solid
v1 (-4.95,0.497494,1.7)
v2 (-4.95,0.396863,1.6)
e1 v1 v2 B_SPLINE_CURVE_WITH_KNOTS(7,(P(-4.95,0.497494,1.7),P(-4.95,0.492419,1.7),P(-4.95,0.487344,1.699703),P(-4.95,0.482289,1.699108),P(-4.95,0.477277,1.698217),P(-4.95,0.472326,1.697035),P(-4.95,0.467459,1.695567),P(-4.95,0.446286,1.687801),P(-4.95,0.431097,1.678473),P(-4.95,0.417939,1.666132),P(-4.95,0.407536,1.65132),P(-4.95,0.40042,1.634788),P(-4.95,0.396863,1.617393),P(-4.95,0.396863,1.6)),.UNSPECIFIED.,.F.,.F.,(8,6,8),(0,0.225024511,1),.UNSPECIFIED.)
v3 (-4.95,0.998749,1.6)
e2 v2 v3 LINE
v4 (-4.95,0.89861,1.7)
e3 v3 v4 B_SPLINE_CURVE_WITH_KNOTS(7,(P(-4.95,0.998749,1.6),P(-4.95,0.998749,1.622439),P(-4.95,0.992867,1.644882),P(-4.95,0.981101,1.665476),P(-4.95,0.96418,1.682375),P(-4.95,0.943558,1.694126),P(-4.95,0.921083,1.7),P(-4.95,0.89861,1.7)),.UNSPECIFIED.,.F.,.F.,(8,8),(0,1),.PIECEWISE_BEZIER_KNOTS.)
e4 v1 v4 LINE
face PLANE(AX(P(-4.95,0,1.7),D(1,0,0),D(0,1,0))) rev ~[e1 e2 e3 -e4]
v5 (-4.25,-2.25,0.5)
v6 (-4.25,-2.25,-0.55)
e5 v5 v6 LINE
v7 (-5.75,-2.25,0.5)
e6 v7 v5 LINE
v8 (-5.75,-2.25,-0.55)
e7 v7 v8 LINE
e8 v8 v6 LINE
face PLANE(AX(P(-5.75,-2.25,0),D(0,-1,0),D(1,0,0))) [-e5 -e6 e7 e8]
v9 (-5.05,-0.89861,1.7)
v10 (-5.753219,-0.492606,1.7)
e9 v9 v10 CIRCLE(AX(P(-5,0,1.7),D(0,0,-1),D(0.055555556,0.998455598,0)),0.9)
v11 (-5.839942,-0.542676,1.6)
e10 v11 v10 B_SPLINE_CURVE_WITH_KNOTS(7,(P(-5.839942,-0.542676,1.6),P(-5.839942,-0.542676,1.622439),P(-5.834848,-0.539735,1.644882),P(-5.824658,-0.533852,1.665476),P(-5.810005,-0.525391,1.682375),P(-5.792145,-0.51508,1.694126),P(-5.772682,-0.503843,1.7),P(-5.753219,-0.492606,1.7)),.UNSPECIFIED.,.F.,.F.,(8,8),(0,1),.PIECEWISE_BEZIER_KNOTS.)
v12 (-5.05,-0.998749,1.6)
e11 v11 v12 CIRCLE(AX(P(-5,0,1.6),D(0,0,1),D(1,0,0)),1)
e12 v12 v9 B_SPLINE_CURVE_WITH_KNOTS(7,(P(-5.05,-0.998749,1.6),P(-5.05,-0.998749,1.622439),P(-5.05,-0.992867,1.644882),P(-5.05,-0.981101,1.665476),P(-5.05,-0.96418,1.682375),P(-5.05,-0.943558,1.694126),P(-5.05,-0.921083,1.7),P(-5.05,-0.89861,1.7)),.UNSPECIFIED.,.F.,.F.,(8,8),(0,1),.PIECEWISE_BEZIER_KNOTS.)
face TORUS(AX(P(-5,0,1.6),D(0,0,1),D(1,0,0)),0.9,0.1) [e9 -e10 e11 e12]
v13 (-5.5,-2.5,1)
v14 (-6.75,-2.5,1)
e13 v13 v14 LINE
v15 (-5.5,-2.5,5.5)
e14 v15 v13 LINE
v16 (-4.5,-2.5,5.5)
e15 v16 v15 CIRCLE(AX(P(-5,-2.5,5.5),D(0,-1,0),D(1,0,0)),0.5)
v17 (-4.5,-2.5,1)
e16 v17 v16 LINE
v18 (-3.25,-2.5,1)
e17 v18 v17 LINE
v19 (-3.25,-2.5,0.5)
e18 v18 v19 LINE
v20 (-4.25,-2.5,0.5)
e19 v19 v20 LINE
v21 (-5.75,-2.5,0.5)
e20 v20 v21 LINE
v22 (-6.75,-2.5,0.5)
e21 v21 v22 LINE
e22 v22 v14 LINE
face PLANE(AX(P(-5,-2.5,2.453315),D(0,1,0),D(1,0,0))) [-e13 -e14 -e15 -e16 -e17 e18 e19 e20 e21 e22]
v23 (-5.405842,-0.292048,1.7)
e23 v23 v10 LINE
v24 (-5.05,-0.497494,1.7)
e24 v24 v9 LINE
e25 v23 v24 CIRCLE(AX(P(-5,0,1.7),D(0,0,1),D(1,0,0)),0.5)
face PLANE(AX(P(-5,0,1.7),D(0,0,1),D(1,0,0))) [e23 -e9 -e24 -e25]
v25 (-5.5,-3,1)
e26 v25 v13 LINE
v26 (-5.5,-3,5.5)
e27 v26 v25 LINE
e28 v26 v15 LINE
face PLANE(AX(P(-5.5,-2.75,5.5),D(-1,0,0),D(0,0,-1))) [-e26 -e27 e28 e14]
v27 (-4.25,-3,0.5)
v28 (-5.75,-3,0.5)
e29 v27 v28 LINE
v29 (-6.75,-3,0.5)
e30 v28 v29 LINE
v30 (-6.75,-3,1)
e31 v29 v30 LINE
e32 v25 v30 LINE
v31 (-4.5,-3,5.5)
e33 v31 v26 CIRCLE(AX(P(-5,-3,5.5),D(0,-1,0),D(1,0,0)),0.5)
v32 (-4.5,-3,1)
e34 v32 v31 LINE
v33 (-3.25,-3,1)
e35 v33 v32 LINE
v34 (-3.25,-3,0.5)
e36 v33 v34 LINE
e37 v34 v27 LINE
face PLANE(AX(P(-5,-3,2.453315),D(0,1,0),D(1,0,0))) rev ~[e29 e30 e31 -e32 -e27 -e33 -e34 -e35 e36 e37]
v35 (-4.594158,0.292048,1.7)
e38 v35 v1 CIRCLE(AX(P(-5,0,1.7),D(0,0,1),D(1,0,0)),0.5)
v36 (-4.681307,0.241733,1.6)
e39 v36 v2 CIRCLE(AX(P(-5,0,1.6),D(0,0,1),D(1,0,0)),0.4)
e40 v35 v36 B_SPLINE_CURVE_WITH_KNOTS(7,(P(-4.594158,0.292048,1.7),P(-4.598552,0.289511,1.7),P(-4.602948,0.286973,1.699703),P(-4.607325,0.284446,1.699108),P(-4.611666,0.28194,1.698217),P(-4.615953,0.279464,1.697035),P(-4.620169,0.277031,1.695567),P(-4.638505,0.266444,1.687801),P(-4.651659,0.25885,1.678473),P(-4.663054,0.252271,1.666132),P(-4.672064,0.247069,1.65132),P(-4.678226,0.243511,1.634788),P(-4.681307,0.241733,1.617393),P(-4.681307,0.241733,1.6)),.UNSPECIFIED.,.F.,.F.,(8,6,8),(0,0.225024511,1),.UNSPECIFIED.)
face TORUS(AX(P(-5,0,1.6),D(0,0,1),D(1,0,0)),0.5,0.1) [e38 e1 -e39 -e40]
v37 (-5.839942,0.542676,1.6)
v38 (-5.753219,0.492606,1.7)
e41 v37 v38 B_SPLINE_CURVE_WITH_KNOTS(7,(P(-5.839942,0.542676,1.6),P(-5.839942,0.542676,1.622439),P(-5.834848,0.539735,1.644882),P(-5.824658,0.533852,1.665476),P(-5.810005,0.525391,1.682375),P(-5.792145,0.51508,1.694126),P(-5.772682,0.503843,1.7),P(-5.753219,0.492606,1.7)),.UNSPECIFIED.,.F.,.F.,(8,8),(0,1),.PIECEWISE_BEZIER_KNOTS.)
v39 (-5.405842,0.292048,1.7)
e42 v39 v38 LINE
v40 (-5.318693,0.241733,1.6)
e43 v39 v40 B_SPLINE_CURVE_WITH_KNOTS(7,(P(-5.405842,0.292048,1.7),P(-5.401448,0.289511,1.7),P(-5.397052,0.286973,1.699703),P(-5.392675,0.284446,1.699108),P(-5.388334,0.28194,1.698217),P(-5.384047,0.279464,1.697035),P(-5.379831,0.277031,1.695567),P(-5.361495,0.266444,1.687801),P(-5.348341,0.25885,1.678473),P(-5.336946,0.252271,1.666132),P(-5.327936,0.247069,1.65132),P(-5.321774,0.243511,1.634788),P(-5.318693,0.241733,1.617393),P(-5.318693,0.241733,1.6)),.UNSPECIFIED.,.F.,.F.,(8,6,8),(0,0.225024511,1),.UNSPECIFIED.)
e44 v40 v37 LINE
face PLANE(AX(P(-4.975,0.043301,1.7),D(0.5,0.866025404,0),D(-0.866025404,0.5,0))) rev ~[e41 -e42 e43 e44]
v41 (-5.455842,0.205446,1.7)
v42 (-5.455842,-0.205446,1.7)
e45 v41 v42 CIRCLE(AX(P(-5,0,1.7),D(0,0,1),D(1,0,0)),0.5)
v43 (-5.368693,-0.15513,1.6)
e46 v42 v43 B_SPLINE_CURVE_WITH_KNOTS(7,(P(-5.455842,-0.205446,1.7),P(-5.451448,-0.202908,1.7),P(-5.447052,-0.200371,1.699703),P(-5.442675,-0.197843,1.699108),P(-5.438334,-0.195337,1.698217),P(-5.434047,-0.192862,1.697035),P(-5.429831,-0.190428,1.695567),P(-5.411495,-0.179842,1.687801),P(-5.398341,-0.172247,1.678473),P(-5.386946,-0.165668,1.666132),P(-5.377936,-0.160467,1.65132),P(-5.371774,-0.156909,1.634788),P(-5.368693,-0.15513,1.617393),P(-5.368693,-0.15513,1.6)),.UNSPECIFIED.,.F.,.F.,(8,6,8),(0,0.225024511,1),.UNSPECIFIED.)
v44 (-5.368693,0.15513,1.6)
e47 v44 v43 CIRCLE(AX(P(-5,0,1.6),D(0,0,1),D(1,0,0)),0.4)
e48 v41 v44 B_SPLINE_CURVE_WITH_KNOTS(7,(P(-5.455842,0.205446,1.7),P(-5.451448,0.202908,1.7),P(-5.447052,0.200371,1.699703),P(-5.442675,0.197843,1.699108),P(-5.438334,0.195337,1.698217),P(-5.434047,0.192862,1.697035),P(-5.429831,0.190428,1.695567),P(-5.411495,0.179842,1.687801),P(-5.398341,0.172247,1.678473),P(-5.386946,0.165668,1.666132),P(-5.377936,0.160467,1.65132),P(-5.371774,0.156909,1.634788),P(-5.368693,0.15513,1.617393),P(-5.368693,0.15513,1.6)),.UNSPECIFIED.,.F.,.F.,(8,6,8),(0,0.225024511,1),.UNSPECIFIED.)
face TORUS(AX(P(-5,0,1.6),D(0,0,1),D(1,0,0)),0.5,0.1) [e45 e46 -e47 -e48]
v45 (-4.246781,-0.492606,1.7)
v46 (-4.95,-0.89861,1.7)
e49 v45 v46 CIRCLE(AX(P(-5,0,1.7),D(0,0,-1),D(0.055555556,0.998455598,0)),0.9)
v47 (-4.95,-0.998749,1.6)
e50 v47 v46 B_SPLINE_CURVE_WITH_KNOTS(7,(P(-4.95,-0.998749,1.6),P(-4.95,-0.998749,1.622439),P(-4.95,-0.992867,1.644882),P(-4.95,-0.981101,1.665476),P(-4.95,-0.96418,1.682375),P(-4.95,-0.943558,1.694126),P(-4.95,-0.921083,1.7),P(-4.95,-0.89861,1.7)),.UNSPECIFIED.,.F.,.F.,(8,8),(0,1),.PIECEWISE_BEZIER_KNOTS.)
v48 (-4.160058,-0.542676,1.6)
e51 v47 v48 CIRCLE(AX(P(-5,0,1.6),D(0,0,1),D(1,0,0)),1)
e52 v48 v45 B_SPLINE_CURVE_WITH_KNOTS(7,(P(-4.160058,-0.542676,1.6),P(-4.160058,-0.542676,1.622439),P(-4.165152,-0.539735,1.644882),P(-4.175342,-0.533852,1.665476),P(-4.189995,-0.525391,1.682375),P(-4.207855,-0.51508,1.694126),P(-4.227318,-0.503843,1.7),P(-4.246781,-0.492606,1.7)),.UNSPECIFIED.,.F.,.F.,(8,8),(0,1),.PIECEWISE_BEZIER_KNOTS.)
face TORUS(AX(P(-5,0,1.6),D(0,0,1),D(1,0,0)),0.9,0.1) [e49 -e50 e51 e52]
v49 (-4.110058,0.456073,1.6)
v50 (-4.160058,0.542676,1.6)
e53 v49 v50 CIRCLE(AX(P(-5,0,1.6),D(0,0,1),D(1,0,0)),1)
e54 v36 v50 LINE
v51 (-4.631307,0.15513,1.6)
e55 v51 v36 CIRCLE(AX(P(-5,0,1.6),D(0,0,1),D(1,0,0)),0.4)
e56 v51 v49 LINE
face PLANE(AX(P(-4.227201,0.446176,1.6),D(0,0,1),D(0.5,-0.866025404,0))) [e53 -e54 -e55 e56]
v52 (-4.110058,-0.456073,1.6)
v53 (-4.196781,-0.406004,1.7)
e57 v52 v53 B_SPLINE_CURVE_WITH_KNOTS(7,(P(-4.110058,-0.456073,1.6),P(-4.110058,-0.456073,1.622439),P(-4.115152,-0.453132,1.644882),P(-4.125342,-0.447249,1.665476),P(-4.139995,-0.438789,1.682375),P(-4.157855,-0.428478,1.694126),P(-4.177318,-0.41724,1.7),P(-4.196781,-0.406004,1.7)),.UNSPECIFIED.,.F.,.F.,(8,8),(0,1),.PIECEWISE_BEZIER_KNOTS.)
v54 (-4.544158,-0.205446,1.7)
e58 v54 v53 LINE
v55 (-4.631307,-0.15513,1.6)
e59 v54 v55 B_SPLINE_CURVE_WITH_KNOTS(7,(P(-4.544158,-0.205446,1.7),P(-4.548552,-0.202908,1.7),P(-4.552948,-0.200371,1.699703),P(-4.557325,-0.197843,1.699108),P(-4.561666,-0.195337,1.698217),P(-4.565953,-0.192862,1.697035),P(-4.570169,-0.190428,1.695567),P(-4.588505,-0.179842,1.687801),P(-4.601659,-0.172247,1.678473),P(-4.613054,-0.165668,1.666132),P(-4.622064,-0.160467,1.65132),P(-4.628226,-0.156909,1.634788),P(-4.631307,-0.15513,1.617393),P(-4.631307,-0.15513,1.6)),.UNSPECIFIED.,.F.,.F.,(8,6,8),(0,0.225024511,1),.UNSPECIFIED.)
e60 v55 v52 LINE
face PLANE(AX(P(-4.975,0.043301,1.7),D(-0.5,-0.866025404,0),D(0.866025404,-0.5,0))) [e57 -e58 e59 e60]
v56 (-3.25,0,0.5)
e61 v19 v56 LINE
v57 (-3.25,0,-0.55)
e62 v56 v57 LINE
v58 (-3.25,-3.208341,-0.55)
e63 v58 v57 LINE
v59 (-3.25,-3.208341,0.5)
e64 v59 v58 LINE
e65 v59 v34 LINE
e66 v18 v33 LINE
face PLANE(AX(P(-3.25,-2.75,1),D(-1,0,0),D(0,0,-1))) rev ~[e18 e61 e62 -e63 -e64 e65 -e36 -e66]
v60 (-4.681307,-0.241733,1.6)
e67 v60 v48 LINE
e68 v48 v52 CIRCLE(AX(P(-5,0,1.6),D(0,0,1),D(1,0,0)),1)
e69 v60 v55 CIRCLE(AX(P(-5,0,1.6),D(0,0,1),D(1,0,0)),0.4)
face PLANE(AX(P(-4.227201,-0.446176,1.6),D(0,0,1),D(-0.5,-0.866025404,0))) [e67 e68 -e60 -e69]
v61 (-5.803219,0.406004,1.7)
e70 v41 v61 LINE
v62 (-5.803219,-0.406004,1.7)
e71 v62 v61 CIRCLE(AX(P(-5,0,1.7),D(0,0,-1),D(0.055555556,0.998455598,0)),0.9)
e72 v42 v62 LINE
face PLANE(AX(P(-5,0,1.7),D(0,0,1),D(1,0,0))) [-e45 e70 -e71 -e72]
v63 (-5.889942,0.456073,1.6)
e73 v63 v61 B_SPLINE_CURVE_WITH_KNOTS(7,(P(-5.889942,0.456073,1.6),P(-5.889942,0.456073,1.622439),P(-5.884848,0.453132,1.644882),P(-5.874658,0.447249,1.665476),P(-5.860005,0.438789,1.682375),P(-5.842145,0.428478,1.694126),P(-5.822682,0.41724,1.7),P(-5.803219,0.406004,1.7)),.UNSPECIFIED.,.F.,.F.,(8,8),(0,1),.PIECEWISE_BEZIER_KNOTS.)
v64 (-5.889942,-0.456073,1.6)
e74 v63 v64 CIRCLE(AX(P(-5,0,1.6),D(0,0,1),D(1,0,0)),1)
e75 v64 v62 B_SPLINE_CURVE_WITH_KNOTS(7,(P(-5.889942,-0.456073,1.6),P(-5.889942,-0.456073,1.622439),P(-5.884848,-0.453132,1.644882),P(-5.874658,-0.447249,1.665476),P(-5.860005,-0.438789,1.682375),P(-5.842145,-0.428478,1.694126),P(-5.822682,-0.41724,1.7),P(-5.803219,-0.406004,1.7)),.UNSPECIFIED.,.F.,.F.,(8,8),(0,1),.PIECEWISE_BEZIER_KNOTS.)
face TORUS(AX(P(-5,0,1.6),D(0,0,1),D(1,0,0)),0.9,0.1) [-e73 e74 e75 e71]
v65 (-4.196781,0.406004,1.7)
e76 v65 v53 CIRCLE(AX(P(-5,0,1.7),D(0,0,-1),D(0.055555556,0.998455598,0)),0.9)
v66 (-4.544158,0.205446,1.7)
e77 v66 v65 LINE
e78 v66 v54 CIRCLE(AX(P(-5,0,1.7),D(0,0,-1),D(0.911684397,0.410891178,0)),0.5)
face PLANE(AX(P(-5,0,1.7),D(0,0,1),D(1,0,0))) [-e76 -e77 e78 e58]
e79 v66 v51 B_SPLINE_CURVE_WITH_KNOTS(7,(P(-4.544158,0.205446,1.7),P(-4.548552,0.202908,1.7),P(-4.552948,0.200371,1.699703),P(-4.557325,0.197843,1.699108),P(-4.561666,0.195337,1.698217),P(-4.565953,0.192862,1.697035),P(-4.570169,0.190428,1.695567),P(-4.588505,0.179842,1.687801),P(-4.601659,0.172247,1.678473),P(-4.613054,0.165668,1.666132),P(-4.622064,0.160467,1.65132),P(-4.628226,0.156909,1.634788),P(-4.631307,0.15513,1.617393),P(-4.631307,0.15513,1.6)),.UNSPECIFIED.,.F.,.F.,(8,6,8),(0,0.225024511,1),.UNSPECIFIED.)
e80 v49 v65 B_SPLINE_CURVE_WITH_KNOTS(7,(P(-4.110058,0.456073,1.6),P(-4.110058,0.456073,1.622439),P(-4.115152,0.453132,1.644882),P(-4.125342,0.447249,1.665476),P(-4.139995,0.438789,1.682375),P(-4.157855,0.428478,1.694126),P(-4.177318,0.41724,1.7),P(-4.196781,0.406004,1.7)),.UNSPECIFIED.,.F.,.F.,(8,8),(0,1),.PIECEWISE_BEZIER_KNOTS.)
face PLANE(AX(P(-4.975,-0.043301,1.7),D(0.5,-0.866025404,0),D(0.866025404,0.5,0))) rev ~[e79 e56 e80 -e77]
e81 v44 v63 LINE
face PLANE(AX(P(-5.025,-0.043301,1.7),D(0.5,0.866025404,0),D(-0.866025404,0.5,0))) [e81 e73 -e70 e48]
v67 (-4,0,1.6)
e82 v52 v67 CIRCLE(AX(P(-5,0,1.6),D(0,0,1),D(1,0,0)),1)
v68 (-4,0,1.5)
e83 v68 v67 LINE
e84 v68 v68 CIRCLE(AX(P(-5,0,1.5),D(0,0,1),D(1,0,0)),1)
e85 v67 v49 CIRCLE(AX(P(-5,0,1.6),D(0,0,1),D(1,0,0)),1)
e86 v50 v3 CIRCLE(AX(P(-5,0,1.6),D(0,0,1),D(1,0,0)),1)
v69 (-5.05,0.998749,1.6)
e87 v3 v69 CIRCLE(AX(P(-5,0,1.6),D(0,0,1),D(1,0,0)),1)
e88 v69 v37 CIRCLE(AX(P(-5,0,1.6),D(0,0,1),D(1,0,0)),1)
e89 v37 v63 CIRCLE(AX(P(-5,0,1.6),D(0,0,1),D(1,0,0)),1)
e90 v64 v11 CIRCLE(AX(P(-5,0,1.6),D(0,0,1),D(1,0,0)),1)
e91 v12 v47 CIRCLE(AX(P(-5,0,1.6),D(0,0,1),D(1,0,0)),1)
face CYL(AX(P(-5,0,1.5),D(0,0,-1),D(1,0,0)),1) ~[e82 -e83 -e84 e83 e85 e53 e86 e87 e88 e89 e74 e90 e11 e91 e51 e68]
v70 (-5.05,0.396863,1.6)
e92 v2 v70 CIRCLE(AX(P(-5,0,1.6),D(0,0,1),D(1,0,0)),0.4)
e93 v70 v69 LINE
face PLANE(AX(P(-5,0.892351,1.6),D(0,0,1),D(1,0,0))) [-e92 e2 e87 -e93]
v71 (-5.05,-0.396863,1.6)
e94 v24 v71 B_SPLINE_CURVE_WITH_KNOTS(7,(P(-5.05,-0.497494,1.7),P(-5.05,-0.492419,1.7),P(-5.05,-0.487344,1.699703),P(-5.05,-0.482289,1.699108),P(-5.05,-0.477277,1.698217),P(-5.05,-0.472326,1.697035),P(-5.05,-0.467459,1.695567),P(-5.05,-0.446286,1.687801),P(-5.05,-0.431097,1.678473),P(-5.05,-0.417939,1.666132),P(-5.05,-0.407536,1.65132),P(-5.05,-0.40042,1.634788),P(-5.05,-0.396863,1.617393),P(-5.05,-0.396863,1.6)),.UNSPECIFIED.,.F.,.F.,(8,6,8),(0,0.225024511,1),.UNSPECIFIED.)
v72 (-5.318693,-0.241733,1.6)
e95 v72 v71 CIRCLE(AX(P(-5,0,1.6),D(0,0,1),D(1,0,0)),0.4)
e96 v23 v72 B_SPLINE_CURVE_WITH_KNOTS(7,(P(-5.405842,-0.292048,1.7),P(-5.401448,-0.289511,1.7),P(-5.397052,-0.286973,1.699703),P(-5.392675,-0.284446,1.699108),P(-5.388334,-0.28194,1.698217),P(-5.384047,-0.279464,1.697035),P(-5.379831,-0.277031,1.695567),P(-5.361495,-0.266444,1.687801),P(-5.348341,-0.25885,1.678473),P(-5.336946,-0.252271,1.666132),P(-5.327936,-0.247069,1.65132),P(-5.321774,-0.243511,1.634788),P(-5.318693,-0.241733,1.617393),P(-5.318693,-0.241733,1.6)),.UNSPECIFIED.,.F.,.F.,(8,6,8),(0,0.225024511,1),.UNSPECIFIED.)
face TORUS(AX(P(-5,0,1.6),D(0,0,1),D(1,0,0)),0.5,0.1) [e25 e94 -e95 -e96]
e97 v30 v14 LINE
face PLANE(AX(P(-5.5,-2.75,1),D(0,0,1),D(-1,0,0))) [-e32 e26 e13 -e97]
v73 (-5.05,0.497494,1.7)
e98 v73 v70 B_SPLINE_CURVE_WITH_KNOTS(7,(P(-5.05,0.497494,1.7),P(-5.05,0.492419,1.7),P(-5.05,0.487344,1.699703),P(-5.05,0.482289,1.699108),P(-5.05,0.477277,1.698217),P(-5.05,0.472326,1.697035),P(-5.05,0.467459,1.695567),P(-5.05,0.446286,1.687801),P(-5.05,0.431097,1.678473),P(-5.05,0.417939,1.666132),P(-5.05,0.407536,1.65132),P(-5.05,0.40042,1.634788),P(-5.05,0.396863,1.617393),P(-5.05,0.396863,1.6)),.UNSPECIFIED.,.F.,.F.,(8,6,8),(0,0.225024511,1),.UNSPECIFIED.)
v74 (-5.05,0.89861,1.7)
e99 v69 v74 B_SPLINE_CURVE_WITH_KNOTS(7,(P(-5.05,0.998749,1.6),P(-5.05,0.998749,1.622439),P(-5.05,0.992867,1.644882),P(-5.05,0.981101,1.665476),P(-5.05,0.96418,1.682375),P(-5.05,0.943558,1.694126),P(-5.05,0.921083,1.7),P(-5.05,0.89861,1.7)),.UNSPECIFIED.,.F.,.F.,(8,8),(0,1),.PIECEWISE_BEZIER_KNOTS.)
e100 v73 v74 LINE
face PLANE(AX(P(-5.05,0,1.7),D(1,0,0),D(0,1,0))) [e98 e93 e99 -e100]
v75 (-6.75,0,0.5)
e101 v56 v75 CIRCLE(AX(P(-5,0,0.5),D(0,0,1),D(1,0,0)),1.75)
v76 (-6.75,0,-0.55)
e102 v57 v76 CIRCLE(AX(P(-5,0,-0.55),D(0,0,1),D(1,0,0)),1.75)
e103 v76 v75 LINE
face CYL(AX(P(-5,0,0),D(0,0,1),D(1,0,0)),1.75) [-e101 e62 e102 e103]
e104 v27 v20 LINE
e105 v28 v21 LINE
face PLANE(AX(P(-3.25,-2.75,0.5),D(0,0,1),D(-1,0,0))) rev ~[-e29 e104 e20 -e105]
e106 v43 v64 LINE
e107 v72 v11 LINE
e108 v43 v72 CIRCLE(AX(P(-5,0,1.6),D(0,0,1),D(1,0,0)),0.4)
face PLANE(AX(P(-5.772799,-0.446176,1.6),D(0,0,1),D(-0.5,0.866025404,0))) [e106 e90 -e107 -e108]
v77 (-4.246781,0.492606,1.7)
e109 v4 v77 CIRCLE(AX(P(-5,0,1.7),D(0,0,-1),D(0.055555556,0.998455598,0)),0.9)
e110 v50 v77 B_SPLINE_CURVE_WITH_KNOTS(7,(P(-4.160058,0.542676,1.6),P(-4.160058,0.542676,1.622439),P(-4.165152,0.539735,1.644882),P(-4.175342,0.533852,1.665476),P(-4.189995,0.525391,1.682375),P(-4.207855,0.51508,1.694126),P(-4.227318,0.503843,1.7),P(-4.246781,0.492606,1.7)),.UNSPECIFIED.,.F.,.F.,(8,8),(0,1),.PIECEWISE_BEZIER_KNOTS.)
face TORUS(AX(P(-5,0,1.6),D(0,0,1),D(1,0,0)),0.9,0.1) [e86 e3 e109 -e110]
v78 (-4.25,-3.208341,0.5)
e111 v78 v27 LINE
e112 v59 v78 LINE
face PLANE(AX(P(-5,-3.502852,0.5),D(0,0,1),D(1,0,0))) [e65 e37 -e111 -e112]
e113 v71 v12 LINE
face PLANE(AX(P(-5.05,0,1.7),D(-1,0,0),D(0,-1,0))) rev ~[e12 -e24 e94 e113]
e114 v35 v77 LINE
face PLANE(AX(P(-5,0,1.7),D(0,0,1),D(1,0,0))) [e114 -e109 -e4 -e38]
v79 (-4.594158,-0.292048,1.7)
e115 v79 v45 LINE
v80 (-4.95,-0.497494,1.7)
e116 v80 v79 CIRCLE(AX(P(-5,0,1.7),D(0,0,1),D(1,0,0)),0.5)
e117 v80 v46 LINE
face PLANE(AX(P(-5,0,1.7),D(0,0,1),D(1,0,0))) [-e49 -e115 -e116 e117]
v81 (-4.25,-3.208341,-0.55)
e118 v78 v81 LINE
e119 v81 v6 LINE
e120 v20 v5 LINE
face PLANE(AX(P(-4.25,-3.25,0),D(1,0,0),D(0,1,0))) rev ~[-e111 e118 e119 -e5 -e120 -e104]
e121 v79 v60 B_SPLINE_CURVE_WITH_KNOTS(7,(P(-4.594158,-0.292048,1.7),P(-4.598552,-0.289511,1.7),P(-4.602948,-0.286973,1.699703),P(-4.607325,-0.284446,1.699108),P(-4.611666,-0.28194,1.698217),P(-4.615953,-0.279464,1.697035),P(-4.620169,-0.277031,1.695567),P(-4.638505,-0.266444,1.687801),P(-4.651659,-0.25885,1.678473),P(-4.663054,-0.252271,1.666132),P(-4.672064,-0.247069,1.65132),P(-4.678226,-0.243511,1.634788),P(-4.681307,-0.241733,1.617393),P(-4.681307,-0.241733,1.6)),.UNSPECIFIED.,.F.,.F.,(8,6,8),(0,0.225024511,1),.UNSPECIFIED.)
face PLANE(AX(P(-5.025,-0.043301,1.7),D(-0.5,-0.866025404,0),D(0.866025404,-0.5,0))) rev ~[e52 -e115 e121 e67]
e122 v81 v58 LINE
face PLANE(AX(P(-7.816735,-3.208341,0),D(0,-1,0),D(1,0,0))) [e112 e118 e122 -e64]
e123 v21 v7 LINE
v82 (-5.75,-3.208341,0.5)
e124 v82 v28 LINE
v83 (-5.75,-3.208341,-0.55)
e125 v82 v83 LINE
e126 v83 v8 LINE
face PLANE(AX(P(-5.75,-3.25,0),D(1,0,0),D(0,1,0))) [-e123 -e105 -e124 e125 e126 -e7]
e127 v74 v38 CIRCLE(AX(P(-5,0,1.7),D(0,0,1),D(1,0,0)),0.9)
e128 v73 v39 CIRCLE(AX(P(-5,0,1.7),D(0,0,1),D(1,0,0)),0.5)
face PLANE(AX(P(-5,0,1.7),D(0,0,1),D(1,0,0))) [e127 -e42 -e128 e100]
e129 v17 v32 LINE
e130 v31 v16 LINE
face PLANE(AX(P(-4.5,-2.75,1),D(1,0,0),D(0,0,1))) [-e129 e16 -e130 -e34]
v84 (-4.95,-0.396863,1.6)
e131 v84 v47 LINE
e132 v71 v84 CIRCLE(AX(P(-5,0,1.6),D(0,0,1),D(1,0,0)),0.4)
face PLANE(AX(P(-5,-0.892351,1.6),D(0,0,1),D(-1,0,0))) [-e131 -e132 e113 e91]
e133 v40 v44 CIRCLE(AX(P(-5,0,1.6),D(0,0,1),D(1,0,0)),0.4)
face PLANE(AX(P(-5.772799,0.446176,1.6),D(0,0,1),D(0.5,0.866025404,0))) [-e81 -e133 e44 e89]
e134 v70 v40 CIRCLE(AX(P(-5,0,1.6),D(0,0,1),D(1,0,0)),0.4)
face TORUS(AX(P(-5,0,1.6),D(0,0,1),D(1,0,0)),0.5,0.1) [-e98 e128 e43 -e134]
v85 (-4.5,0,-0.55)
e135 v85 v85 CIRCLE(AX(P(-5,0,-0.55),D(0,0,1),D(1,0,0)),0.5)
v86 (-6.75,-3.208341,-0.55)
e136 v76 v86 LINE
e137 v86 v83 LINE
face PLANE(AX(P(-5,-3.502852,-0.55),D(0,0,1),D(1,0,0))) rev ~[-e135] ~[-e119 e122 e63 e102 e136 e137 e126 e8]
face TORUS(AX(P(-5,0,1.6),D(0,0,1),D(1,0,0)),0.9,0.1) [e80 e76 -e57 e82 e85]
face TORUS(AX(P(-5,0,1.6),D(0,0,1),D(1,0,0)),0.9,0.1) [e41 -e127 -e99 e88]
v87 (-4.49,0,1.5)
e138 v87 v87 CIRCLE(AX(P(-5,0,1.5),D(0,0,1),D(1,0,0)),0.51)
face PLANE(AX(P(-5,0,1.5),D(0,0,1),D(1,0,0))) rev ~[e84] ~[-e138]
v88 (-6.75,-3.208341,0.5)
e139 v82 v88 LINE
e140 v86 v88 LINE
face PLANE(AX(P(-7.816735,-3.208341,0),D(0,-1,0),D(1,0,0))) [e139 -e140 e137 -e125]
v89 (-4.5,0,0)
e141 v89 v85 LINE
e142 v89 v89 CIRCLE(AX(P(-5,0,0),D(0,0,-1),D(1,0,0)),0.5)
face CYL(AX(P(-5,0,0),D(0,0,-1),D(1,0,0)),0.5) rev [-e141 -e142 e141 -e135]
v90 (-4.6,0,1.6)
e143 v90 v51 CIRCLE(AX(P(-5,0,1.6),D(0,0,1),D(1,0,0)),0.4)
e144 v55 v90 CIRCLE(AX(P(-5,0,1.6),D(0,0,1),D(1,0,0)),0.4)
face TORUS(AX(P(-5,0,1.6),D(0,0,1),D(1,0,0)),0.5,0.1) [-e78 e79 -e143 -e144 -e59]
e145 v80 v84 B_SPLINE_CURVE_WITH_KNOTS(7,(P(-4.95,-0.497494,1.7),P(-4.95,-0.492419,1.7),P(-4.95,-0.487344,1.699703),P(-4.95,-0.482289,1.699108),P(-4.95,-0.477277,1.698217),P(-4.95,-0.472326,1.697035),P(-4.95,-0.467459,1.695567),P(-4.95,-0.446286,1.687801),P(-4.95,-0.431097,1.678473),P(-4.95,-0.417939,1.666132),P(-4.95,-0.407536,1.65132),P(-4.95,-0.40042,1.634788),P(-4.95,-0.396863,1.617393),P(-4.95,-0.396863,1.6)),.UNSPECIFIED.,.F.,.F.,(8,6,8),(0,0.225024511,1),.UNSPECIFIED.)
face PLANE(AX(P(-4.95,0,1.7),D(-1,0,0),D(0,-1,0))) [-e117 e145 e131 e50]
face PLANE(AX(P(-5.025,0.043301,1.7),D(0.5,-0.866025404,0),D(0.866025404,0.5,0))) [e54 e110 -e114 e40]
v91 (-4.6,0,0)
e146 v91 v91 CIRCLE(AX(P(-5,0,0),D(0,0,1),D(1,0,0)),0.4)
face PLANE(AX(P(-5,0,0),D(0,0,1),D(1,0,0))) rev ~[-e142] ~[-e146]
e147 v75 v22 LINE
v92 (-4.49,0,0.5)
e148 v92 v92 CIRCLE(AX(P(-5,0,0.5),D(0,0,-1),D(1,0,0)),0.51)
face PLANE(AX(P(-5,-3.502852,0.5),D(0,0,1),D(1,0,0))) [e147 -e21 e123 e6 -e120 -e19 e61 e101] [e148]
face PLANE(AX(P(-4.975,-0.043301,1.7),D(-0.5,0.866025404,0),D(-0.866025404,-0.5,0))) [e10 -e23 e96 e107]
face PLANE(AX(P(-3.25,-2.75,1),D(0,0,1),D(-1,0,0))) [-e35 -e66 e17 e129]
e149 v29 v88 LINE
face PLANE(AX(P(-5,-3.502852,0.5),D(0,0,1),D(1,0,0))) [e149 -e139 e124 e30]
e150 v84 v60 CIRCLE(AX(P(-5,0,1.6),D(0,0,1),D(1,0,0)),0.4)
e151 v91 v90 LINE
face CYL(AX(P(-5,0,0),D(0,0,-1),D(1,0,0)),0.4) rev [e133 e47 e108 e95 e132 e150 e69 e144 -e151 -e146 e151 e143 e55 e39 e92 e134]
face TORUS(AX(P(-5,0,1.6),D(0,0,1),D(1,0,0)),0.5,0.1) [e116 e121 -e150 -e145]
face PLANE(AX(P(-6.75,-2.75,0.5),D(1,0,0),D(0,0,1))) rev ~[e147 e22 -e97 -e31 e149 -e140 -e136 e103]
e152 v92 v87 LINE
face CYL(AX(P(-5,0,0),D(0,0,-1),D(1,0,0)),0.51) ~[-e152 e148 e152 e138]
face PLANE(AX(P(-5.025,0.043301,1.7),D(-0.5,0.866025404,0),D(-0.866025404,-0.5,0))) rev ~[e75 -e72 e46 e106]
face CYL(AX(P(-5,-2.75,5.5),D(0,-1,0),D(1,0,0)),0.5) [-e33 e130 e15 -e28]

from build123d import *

# Parameters (mm, degrees)
SKETCH_R           = 0.5
SKETCH_W           = 1.5
SKETCH_H           = 1
PAD_DEPTH          = 0.5
PAD_DEPTH_BACK     = 0.55
SKETCH001_W        = 4.919434
SKETCH001_H        = 5.037946
POCKET_DEPTH       = 1.05
POCKET_DEPTH_BACK  = 1.55
SKETCH006_W        = 1.496239
SKETCH006_H        = 0.320585
POCKET003_DEPTH    = 5
SKETCH002_R        = 0.51
SKETCH002_R_2      = 0.4
PAD001_DEPTH       = 1.5
SKETCH003_R        = 1
PAD002_DEPTH       = 0.2
SKETCH004_R        = 0.4
POCKET001_DEPTH    = 1
FILLET_R           = 0.1
SKETCH005_W        = 0.1
SKETCH005_H        = 1.784702
POCKET002_DEPTH    = 0.1
POLARPATTERN_COUNT = 6
PAD003_DEPTH       = 0.25


with BuildPart() as part:
    # Sketch → Pad (new body, two sides)
    with BuildSketch(Plane.XY) as pad_sk:
        with BuildLine():
            ThreePointArc((1.75, 0), (0, 1.75), (-1.75, 0))
            Line((-1.75, 0), (-1.75, -4.25))
            Line((-1.75, -4.25), (-1.75, -8))
            Line((-1.75, -8), (1.75, -8))
            Line((1.75, -8), (1.75, -4.25))
            Line((1.75, -4.25), (1.75, 0))
        make_face()
        Circle(SKETCH_R, mode=Mode.SUBTRACT)
        with Locations((0, -2.75)):
            Rectangle(SKETCH_W, SKETCH_H, mode=Mode.SUBTRACT)
    extrude(amount=PAD_DEPTH)
    extrude(pad_sk.sketch, amount=-PAD_DEPTH_BACK)

    # Sketch001 → Pocket (cut, two sides)
    with BuildSketch(Plane.XY) as pocket_sk:
        with Locations((-0.357018, -5.727314)):
            Rectangle(SKETCH001_W, SKETCH001_H)
    extrude(amount=-POCKET_DEPTH, mode=Mode.SUBTRACT)
    extrude(pocket_sk.sketch, amount=POCKET_DEPTH_BACK, mode=Mode.SUBTRACT)

    # Sketch006 → Pocket003 (cut)
    with BuildSketch(Plane.XY):
        with Locations((-0.005068, -3.405655)):
            Rectangle(SKETCH006_W, SKETCH006_H)
    extrude(amount=-POCKET003_DEPTH, mode=Mode.SUBTRACT)

    # Sketch002 → Pad001 (join)
    with BuildSketch(Plane.XY):
        Circle(SKETCH002_R)
        Circle(SKETCH002_R_2, mode=Mode.SUBTRACT)
    extrude(amount=PAD001_DEPTH)

    # Sketch003 → Pad002 (join)
    with BuildSketch(Plane.XY.offset(1.5)):
        Circle(SKETCH003_R)
    extrude(amount=PAD002_DEPTH)

    # Sketch004 → Pocket001 (cut)
    with BuildSketch(Plane.XY.offset(1.7)):
        Circle(SKETCH004_R)
    extrude(amount=-POCKET001_DEPTH, mode=Mode.SUBTRACT)

    # Fillet
    fillet_edges = [part.edges().sort_by_distance(p)[0] for p in [
        (-0.4, 0, 1.7),
        (-1, 0, 1.7),
    ]]
    fillet(fillet_edges, radius=FILLET_R)

    # Sketch005 → Pocket002 (cut)
    with BuildSketch(Plane.XY.offset(1.7)):
        with Locations((0, 0.892351)):
            Rectangle(SKETCH005_W, SKETCH005_H)
    pocket002 = extrude(amount=-POCKET002_DEPTH, mode=Mode.SUBTRACT)

    # PolarPattern: Pocket002 ×6 about axis
    polarpattern_axis = Axis((0, 0, 1.7), (0, 0, 1))
    for i in range(1, POLARPATTERN_COUNT):
        add(pocket002.rotate(polarpattern_axis, i * 360 / POLARPATTERN_COUNT), mode=Mode.SUBTRACT)

    # Sketch007 → Pad003 (join, symmetric)
    with BuildSketch(Plane(origin=(0, -2.75, -0.05), x_dir=(-1, 0, 0), z_dir=(0, -1, 0))):
        with BuildLine():
            Line((-1.75, -0.55), (1.75, -0.55))
            Line((1.75, -0.55), (1.75, -1.05))
            Line((0.5, -1.05), (1.75, -1.05))
            Line((0.5, -5.55), (0.5, -1.05))
            ThreePointArc((-0.5, -5.55), (0, -6.05), (0.5, -5.55))
            Line((-0.5, -1.05), (-0.5, -5.55))
            Line((-1.75, -1.05), (-0.5, -1.05))
            Line((-1.75, -1.05), (-1.75, -0.55))
        make_face()
    extrude(amount=PAD003_DEPTH, both=True)


with BuildPart() as part_1:
    # Body001 placement: moved
    add(part.part.moved(Location((-5, 0, 0))))


solid = part_1.part
